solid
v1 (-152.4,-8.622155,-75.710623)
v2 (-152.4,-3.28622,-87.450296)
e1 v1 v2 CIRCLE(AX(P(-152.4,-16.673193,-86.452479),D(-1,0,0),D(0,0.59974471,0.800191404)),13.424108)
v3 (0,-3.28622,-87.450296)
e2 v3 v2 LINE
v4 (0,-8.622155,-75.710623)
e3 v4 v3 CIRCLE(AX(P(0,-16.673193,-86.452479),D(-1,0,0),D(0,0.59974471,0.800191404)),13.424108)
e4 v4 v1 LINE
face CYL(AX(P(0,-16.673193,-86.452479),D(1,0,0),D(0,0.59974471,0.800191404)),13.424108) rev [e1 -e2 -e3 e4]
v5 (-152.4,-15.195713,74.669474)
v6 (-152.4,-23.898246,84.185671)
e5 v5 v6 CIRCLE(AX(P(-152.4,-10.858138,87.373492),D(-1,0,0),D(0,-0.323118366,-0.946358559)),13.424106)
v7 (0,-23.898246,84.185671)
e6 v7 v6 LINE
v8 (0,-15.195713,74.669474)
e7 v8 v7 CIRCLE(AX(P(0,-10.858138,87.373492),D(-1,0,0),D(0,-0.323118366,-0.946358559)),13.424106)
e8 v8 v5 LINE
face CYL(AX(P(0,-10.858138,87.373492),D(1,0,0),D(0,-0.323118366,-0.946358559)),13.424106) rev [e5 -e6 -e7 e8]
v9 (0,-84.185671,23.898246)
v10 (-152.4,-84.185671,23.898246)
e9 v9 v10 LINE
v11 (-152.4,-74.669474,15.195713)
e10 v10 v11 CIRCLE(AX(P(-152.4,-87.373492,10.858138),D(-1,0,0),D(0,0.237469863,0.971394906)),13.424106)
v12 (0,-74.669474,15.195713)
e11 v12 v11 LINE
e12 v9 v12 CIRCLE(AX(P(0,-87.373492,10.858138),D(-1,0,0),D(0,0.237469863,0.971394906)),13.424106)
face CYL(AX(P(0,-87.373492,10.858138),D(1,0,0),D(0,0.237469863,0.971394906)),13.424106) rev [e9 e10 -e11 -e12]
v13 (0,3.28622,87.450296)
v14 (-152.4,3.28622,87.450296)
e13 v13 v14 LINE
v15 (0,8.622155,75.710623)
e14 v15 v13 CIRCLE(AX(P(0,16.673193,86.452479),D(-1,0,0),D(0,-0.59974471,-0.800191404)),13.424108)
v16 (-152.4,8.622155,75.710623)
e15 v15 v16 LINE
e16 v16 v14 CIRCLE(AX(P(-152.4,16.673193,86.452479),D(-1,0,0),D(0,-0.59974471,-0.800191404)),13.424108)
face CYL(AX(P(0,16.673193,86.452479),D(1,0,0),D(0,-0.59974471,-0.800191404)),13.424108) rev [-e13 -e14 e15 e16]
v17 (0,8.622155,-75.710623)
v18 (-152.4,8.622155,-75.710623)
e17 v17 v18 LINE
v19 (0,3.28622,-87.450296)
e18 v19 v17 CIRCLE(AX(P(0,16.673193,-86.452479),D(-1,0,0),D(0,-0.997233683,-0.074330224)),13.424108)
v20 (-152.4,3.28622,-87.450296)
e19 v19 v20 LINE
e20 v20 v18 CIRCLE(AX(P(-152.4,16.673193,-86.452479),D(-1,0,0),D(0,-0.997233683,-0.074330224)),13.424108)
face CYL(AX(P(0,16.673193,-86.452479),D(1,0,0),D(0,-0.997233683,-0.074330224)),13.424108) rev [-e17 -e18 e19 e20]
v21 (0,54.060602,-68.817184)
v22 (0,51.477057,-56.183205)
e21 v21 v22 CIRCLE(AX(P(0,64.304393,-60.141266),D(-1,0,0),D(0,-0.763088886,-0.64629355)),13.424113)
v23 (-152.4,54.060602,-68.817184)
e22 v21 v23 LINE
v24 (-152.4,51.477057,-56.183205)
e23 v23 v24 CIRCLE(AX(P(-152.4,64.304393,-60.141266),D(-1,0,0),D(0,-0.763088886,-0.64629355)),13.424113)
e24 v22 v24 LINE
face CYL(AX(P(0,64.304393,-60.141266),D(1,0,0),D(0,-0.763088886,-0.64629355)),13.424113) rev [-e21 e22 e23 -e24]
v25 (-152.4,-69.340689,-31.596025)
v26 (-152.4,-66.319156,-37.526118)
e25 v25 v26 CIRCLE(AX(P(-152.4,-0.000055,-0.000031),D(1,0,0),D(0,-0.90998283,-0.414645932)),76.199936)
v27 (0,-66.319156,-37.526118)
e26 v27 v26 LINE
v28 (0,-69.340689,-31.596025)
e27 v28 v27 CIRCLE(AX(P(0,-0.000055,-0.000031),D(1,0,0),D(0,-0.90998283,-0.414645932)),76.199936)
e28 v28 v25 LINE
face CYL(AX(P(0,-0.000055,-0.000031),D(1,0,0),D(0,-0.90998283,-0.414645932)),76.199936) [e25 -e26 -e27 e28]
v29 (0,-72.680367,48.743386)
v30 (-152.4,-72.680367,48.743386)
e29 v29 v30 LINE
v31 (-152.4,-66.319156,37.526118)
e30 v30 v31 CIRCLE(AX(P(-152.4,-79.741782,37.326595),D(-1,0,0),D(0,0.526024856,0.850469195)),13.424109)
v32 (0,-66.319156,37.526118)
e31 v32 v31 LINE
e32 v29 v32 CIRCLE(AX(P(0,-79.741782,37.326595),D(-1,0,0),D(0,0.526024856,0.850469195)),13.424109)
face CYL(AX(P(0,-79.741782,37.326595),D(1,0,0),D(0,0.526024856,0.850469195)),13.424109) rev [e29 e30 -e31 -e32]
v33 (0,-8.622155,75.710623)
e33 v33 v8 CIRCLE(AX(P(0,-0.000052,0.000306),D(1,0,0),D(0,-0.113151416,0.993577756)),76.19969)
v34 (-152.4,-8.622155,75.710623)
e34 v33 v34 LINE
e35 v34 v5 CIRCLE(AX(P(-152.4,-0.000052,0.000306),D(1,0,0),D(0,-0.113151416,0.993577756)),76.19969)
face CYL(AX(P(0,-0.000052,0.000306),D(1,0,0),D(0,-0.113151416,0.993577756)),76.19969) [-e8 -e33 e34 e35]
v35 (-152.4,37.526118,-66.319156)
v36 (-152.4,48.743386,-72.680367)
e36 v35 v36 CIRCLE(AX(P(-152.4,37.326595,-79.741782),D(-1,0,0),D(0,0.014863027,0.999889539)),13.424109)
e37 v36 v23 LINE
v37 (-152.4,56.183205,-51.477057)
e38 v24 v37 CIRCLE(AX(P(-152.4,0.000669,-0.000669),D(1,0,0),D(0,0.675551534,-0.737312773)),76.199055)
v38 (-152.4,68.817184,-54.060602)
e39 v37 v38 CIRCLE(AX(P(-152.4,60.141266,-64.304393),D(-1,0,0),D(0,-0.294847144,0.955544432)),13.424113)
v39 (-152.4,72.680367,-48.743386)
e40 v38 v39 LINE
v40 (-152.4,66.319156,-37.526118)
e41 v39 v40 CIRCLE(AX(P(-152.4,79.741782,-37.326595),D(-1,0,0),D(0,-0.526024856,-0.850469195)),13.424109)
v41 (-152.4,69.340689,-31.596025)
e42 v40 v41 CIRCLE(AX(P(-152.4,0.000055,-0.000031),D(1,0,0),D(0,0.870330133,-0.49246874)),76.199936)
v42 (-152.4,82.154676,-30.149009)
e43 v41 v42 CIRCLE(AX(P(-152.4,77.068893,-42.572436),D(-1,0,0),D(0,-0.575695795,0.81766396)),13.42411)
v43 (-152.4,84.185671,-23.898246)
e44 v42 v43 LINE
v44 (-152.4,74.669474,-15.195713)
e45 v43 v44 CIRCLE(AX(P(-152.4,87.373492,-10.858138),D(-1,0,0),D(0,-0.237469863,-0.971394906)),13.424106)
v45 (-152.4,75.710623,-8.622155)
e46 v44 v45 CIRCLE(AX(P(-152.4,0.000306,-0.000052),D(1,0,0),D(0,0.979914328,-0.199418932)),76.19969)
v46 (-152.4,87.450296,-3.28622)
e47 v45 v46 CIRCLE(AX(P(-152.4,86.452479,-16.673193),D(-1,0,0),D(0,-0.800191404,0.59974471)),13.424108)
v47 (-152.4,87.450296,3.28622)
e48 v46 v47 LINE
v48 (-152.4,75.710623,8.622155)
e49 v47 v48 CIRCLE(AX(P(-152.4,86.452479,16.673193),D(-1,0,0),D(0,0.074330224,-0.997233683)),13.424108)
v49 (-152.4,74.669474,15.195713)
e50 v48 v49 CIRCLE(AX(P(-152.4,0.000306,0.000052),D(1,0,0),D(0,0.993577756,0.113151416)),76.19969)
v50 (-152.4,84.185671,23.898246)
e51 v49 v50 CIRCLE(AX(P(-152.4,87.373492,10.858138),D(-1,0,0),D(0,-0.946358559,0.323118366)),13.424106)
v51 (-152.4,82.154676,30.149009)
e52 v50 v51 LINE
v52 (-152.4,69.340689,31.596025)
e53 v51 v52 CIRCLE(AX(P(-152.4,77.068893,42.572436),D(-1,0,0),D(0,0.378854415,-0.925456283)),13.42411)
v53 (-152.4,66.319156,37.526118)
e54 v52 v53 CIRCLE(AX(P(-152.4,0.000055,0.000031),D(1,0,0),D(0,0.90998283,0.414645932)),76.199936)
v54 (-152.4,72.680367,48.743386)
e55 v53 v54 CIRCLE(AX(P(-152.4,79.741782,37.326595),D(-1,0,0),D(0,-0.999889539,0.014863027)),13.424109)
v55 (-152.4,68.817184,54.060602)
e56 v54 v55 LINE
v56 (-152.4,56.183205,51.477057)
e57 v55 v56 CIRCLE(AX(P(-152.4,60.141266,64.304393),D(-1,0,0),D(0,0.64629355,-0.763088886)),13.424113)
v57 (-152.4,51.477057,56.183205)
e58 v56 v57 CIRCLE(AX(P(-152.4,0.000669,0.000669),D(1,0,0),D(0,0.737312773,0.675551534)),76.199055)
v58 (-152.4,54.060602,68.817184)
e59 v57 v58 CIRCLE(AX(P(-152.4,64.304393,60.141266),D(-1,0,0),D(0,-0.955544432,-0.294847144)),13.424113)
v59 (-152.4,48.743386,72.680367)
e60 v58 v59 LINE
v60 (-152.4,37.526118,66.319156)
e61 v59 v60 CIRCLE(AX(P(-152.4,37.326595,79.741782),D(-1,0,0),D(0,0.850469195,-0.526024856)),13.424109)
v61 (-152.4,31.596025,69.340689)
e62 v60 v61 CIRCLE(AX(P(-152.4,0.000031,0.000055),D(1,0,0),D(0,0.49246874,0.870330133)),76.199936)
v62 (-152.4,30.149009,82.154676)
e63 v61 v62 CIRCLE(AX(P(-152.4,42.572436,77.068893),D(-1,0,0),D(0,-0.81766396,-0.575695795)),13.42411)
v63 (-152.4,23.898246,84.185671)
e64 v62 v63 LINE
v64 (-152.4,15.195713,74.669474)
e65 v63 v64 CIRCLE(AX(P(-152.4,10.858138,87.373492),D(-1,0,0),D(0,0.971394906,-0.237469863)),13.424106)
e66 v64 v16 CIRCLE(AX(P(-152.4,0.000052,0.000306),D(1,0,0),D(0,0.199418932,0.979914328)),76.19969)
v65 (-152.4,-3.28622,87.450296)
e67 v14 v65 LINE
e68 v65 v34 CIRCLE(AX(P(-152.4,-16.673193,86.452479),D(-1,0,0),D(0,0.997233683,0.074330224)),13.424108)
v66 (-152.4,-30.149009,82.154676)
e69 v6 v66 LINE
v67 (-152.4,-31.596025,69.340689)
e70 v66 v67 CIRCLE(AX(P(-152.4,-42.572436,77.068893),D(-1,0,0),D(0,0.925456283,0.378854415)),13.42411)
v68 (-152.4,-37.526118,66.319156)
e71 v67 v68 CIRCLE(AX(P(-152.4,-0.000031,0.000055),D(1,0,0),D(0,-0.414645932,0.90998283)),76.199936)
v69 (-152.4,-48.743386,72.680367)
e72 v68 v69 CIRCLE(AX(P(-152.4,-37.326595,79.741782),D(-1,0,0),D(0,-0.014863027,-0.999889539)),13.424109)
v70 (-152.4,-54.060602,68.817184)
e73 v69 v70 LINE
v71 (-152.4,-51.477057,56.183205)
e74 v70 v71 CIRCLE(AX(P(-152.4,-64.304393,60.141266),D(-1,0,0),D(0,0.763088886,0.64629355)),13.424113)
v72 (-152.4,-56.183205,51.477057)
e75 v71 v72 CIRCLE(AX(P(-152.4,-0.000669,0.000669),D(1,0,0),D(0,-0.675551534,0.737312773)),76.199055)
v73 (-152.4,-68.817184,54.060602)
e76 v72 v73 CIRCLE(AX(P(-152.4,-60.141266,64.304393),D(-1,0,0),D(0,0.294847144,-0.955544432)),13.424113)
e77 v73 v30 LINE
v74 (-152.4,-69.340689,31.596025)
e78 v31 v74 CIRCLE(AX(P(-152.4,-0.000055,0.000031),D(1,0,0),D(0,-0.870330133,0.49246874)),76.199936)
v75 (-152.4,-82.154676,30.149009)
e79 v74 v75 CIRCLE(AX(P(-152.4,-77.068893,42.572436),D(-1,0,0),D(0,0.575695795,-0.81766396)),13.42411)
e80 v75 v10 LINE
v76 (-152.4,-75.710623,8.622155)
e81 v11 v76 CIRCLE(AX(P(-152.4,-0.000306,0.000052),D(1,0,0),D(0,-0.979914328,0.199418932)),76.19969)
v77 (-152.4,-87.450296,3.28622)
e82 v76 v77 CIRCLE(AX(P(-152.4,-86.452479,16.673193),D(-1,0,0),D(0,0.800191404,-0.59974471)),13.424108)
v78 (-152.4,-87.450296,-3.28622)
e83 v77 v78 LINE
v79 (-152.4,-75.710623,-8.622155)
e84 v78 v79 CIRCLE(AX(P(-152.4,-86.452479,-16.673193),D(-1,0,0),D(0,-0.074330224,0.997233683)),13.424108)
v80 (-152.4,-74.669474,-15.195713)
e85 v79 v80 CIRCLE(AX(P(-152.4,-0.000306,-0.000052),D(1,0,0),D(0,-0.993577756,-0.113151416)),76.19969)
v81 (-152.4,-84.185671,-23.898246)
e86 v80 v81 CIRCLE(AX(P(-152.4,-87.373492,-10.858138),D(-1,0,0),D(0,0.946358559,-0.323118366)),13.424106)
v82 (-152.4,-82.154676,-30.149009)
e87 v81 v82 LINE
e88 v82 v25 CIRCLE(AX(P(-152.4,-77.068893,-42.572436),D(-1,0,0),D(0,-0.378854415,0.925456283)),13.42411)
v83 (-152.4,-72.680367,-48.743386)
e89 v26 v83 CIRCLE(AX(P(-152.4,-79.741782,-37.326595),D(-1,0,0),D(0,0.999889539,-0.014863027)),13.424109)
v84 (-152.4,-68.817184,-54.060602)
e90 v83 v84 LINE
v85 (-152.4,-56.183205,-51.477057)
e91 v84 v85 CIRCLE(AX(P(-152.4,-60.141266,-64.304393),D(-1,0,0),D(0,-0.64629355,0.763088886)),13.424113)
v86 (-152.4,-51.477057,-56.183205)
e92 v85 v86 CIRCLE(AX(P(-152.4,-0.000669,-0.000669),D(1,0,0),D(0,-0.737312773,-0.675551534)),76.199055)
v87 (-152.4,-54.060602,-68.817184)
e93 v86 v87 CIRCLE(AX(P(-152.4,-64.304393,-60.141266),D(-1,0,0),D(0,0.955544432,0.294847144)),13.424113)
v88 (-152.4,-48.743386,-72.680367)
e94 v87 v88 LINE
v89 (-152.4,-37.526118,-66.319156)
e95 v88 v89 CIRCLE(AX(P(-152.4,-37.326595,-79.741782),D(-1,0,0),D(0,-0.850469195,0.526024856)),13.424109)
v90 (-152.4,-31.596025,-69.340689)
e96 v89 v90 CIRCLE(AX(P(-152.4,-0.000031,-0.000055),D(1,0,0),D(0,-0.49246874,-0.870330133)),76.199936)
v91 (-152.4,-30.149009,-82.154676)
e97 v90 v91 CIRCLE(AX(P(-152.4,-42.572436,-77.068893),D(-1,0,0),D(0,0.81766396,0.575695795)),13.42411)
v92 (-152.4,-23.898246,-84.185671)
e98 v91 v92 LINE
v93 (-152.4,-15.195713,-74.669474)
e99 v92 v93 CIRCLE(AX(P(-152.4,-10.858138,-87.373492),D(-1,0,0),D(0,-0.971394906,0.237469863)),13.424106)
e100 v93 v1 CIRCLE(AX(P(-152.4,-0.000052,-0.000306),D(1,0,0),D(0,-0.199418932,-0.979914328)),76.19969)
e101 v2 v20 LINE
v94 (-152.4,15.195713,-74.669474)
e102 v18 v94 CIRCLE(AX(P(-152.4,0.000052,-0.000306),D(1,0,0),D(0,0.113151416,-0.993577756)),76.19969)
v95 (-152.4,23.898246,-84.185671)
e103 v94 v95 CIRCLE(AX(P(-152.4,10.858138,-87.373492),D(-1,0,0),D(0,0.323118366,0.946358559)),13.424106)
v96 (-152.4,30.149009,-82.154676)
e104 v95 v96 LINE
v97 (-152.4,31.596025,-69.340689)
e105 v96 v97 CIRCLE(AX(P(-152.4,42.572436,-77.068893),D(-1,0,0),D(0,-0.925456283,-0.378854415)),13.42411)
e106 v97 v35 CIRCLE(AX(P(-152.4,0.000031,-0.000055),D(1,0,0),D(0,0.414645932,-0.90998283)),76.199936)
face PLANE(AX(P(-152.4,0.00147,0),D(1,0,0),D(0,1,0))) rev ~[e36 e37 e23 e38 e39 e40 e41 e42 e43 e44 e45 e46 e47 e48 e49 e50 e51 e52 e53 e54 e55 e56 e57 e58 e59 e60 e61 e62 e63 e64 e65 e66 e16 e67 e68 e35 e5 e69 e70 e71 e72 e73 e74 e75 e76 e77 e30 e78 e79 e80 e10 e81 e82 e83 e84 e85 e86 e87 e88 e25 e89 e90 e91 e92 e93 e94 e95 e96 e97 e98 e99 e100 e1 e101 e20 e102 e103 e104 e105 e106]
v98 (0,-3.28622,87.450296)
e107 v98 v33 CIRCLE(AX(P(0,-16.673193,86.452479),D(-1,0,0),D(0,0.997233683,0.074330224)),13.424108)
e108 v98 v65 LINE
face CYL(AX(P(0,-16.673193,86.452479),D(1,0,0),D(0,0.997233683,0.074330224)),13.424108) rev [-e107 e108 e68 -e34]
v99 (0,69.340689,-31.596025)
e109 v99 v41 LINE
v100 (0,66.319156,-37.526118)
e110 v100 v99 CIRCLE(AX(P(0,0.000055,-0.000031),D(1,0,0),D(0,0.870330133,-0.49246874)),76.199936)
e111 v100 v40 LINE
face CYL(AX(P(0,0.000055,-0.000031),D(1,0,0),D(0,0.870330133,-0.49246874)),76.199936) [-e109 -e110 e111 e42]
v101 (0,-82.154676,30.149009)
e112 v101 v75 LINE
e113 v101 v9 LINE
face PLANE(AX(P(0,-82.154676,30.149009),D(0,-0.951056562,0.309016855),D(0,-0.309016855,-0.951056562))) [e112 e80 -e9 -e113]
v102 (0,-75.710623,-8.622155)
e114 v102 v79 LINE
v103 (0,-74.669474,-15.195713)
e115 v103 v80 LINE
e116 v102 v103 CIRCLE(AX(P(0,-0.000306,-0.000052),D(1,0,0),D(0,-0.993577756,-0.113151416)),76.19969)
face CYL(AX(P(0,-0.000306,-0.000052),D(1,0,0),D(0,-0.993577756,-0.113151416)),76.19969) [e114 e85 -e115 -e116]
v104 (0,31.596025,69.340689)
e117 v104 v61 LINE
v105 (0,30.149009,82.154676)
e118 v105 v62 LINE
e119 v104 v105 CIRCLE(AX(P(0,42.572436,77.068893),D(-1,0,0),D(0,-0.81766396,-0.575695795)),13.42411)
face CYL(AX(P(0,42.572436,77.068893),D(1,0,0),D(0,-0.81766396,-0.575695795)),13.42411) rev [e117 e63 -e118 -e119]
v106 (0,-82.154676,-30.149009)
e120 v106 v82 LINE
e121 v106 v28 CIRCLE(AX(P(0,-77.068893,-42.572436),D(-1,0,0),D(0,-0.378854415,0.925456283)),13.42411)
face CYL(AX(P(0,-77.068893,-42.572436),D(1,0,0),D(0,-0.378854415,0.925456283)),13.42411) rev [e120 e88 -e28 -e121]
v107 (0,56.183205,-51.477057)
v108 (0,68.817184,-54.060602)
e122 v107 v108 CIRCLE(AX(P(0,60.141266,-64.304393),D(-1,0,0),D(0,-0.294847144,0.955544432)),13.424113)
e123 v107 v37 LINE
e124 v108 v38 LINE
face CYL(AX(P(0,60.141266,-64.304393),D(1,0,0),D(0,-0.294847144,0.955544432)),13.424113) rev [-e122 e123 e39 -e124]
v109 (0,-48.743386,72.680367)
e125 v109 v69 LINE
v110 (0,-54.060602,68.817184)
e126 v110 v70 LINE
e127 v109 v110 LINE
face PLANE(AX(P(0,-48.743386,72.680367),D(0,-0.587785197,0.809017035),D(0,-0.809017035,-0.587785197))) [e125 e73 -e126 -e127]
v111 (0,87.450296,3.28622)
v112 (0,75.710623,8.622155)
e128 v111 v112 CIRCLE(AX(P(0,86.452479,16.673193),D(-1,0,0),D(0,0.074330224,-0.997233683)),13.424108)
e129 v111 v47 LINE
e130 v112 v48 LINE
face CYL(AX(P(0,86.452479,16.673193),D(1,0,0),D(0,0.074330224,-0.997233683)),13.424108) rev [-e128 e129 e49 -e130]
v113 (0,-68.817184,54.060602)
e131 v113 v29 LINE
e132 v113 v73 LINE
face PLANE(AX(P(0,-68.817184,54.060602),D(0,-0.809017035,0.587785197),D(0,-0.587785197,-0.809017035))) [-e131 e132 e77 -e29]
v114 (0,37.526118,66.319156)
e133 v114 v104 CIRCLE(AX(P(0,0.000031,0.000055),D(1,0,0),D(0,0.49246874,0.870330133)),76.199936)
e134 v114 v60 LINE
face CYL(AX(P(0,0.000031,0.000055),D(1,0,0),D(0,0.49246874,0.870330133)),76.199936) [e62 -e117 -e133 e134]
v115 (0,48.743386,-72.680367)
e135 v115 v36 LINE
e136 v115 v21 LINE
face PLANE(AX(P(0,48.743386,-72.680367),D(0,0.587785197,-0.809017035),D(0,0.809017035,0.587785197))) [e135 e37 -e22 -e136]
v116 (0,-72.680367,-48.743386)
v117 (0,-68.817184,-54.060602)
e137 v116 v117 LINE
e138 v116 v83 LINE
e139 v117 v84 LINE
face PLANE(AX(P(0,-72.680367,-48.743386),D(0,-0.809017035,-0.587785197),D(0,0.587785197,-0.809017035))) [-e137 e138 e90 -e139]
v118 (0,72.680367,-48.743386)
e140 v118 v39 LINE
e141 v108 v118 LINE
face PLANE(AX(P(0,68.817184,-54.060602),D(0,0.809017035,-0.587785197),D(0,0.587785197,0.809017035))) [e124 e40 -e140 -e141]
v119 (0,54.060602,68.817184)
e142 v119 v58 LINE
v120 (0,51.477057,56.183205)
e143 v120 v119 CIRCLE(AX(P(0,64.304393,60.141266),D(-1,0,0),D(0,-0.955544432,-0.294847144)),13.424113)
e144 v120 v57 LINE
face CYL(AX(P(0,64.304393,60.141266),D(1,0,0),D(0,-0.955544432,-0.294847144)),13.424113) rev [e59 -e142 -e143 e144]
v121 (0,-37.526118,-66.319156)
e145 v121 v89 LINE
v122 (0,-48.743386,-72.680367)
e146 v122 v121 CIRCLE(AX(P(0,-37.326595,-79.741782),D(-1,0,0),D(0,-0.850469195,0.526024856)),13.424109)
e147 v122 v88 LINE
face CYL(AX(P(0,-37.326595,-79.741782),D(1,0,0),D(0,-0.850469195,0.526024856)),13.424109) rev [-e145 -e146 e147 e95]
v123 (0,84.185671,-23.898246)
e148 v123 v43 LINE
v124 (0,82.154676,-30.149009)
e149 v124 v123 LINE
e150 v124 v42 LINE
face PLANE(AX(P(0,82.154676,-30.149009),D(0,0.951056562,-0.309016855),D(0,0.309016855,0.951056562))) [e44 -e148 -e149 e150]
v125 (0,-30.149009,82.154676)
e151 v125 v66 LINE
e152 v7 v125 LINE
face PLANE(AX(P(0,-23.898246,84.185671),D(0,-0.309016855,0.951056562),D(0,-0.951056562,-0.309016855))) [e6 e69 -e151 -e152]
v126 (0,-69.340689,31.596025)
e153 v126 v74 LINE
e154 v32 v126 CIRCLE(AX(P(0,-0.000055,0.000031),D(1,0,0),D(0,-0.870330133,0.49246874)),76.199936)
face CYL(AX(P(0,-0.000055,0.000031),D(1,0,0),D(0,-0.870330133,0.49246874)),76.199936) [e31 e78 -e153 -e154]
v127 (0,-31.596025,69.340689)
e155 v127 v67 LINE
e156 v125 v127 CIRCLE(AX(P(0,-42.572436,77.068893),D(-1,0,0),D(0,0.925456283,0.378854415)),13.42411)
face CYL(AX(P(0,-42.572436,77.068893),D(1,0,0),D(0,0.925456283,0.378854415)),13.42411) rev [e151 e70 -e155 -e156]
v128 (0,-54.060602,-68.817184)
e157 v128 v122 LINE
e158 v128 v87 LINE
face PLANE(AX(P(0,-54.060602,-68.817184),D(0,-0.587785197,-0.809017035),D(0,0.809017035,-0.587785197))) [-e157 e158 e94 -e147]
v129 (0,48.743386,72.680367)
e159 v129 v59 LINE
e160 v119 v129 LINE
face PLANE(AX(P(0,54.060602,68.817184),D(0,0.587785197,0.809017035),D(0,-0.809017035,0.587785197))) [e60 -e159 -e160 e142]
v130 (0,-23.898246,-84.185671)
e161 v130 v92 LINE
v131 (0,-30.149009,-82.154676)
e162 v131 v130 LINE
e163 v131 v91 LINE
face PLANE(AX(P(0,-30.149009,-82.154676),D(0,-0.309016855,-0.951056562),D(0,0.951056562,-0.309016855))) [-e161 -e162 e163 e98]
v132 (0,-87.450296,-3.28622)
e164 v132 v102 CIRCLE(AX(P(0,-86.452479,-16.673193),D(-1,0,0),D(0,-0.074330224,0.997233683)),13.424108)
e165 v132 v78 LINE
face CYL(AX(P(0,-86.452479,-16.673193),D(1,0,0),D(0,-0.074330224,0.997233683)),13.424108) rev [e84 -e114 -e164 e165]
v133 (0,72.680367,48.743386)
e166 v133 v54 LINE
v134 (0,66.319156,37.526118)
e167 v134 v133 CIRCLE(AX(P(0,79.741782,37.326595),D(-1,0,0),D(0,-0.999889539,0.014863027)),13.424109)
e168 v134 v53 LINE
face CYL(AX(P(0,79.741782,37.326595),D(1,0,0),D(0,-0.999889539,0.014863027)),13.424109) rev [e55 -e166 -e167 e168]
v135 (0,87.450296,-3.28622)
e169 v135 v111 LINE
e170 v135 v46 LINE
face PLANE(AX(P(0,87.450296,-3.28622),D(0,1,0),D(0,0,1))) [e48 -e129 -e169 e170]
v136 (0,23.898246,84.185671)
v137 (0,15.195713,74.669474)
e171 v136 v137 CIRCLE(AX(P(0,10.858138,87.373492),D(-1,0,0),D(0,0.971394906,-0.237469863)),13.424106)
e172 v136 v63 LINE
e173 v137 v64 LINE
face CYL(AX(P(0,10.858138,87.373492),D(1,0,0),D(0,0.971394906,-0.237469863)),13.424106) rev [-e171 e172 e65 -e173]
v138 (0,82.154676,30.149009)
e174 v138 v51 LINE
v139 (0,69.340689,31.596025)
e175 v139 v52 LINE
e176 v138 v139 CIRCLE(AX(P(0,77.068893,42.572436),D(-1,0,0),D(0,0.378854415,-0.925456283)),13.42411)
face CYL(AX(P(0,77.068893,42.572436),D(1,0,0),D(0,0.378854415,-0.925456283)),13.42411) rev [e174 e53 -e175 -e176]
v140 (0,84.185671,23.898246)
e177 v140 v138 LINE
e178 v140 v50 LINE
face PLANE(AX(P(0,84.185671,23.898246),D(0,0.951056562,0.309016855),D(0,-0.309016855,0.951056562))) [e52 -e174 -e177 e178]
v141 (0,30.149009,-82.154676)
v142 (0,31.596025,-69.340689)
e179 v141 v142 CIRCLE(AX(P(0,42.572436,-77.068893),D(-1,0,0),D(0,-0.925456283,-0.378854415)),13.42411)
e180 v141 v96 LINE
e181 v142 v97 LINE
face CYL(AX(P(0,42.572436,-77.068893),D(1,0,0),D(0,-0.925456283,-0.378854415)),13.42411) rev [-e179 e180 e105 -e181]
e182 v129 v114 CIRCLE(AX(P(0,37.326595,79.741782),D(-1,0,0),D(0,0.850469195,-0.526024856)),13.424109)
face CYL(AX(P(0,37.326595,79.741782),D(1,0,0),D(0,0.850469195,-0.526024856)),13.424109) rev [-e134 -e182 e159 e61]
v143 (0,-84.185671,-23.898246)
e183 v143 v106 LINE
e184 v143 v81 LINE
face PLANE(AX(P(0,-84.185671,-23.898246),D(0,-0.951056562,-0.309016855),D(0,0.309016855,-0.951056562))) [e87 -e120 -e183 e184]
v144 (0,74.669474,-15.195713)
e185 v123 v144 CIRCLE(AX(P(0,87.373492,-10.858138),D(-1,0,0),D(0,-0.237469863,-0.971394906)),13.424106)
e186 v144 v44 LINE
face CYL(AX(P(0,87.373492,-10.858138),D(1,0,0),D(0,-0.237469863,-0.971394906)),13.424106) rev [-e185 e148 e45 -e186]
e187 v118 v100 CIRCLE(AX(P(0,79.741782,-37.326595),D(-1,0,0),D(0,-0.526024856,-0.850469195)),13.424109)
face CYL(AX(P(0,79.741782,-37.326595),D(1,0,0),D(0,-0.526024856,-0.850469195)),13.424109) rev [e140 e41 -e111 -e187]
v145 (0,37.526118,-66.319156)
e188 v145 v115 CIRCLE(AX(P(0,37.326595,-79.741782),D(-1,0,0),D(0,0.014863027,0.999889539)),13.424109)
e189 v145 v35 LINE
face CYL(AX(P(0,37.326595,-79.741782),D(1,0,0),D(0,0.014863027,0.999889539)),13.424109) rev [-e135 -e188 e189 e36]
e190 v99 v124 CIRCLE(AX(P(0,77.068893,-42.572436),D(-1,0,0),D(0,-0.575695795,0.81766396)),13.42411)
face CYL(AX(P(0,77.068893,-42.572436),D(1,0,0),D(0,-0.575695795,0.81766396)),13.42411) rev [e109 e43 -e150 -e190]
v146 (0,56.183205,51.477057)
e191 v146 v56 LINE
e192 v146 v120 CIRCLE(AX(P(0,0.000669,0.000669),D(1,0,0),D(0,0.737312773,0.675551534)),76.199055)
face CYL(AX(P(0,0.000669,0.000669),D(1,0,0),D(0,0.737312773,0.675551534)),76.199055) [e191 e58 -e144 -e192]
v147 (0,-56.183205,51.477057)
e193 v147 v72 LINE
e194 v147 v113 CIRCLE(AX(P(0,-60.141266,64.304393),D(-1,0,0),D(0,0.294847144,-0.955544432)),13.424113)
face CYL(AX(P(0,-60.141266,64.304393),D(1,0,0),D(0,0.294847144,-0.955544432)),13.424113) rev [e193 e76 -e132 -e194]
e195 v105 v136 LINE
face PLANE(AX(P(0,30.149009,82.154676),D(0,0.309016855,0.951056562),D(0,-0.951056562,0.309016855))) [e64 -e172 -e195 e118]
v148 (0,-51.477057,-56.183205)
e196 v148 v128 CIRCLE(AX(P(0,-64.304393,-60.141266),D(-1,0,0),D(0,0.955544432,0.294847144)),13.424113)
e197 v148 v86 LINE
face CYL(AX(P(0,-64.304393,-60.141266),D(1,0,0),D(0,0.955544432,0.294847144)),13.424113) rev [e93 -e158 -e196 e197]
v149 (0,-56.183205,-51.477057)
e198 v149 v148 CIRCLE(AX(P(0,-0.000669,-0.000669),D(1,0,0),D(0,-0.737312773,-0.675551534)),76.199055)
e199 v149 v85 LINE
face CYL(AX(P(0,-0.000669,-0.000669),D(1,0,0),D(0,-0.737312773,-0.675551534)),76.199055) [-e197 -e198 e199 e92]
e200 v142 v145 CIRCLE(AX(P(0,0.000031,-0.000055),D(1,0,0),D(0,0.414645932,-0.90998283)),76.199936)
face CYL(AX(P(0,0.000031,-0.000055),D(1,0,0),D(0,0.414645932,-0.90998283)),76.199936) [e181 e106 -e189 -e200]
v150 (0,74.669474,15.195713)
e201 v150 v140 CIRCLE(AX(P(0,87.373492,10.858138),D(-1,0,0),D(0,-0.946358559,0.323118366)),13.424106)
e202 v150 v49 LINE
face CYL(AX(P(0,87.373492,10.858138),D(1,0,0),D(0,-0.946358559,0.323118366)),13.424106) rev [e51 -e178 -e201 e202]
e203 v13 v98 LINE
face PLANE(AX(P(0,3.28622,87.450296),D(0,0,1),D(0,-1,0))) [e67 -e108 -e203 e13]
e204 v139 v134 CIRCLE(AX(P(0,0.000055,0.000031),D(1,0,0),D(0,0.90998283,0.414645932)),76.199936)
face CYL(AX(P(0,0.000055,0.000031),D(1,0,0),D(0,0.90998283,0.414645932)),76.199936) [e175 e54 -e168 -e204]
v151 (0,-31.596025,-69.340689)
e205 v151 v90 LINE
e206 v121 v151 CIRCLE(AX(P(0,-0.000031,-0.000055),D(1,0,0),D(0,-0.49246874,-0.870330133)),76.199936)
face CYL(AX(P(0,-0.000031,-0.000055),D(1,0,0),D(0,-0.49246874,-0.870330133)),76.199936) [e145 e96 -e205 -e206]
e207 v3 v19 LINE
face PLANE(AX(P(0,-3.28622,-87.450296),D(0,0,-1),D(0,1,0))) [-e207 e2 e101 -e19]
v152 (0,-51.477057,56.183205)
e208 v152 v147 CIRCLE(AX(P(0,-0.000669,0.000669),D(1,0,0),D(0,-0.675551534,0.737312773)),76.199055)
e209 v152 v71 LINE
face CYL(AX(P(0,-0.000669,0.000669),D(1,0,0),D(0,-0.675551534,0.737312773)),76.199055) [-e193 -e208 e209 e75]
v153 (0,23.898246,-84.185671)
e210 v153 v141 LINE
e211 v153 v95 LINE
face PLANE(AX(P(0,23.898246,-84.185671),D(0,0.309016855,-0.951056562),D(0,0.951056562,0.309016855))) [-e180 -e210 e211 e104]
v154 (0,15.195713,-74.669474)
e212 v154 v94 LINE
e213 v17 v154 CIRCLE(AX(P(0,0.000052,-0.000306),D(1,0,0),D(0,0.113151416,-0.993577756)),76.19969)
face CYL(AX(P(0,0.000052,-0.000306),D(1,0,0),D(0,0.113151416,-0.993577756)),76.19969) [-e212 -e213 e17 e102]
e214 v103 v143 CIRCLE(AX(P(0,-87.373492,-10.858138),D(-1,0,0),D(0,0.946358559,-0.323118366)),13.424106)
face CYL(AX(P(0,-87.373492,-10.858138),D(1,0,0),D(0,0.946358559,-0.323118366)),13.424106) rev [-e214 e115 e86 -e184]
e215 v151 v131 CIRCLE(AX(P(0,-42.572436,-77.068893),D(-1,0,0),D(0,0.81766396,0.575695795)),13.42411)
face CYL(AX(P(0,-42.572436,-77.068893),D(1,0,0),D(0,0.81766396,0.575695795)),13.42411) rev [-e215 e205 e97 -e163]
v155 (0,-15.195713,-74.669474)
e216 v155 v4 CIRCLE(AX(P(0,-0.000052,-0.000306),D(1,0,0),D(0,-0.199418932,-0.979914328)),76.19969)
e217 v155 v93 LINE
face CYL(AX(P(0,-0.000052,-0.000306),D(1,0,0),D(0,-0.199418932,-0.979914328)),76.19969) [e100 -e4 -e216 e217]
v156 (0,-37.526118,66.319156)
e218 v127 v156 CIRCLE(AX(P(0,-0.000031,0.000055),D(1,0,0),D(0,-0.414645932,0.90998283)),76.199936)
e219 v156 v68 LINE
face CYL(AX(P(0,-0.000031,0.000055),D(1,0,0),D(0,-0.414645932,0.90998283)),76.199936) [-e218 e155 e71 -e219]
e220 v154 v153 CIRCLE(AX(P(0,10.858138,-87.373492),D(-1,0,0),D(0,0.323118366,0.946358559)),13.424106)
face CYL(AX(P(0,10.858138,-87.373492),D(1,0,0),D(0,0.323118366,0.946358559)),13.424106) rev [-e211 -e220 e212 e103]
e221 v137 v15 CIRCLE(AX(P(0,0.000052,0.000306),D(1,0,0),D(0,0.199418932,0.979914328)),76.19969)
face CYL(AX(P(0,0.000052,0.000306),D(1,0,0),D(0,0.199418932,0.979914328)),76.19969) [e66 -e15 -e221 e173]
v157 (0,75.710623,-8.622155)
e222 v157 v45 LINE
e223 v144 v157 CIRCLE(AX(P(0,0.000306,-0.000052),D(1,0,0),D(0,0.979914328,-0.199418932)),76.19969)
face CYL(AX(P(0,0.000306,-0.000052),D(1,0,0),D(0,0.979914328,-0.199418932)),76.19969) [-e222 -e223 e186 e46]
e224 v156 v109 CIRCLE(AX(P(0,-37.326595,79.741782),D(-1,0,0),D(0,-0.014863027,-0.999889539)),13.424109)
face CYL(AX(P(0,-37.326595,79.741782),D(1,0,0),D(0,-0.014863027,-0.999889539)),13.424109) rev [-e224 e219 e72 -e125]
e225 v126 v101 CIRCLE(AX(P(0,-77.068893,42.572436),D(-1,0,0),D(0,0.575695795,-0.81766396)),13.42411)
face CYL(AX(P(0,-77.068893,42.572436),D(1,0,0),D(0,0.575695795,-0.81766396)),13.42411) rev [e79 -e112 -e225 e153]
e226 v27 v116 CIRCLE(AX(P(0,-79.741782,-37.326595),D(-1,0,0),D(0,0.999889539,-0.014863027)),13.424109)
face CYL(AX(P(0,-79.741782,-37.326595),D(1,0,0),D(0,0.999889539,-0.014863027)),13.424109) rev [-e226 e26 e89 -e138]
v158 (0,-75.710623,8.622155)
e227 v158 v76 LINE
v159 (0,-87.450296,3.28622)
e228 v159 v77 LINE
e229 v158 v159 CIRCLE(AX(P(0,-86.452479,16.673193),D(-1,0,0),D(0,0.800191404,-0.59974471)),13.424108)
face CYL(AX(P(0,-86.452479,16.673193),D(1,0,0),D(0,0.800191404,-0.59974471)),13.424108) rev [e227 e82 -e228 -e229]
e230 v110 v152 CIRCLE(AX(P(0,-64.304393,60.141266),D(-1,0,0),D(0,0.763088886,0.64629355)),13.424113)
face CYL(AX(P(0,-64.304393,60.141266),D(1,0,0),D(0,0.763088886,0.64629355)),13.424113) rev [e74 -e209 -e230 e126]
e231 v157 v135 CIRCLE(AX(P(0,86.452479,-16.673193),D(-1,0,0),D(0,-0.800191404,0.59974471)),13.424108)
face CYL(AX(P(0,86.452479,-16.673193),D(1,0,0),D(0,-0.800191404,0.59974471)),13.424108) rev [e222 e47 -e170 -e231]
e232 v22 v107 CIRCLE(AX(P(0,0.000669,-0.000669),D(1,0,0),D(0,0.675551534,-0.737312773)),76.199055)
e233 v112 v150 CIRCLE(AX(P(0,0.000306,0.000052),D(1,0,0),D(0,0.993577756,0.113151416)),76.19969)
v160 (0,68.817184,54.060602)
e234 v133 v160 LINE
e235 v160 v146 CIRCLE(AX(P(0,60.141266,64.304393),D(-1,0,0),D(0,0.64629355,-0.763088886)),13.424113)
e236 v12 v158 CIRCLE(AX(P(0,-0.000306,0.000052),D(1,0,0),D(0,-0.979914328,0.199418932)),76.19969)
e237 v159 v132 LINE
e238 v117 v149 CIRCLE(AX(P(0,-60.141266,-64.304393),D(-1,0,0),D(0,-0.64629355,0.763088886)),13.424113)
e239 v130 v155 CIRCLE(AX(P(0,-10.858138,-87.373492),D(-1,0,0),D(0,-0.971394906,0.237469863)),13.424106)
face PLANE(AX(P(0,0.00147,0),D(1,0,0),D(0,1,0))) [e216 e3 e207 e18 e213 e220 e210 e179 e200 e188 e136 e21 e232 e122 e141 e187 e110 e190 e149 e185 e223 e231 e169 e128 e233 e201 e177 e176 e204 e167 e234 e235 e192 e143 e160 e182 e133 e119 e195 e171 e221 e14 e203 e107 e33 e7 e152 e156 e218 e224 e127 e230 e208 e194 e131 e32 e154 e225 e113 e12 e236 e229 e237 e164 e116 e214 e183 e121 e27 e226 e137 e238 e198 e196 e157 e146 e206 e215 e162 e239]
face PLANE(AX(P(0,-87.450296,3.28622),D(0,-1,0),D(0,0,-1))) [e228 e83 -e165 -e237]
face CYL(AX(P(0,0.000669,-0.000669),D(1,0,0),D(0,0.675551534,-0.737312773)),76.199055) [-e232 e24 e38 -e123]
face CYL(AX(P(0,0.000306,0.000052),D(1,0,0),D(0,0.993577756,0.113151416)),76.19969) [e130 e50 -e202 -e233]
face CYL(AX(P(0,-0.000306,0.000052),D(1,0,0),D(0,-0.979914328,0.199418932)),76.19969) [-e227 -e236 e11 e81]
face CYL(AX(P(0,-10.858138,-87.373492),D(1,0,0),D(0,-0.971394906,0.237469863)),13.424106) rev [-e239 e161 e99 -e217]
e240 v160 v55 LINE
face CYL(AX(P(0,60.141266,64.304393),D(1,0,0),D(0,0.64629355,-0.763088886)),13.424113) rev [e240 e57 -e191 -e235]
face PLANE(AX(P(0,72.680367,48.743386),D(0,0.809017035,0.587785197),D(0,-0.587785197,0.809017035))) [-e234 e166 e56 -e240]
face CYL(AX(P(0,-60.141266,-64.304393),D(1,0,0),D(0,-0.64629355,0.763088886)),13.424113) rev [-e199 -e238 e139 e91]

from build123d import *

# Parameters (mm, degrees)
F0_DEPTH = 152.4


with BuildPart() as f0:
    # F1 (on Right) → F0 (new body)
    with BuildSketch(Plane.YZ):
        with BuildLine():
            ThreePointArc((75.710623, -8.622155), (76.077557, -4.318016), (76.2, 0))
            ThreePointArc((76.2, 0), (76.077557, 4.318016), (75.710623, 8.622155))
            ThreePointArc((75.710623, 8.622155), (75.261852, 11.920306), (74.669474, 15.195713))
            ThreePointArc((74.669474, 15.195713), (72.470507, 23.547095), (69.340689, 31.596025))
            ThreePointArc((69.340689, 31.596025), (67.894697, 34.594076), (66.319156, 37.526118))
            ThreePointArc((66.319156, 37.526118), (61.647095, 44.789236), (56.183205, 51.477057))
            ThreePointArc((56.183205, 51.477057), (53.881537, 53.881537), (51.477057, 56.183205))
            ThreePointArc((51.477057, 56.183205), (44.789236, 61.647095), (37.526118, 66.319156))
            ThreePointArc((37.526118, 66.319156), (34.594076, 67.894697), (31.596025, 69.340689))
            ThreePointArc((31.596025, 69.340689), (23.547095, 72.470507), (15.195713, 74.669474))
            ThreePointArc((15.195713, 74.669474), (11.920306, 75.261852), (8.622155, 75.710623))
            ThreePointArc((8.622155, 75.710623), (0, 76.2), (-8.622155, 75.710623))
            ThreePointArc((-8.622155, 75.710623), (-11.920306, 75.261852), (-15.195713, 74.669474))
            ThreePointArc((-15.195713, 74.669474), (-23.547095, 72.470507), (-31.596025, 69.340689))
            ThreePointArc((-31.596025, 69.340689), (-34.594076, 67.894697), (-37.526118, 66.319156))
            ThreePointArc((-37.526118, 66.319156), (-44.789236, 61.647095), (-51.477057, 56.183205))
            ThreePointArc((-51.477057, 56.183205), (-53.881537, 53.881537), (-56.183205, 51.477057))
            ThreePointArc((-56.183205, 51.477057), (-61.647095, 44.789236), (-66.319156, 37.526118))
            ThreePointArc((-66.319156, 37.526118), (-67.894697, 34.594076), (-69.340689, 31.596025))
            ThreePointArc((-69.340689, 31.596025), (-72.470507, 23.547095), (-74.669474, 15.195713))
            ThreePointArc((-74.669474, 15.195713), (-75.261852, 11.920306), (-75.710623, 8.622155))
            ThreePointArc((-75.710623, 8.622155), (-76.2, 0), (-75.710623, -8.622155))
            ThreePointArc((-75.710623, -8.622155), (-75.261852, -11.920306), (-74.669474, -15.195713))
            ThreePointArc((-74.669474, -15.195713), (-72.470507, -23.547095), (-69.340689, -31.596025))
            ThreePointArc((-69.340689, -31.596025), (-67.894697, -34.594076), (-66.319156, -37.526118))
            ThreePointArc((-66.319156, -37.526118), (-61.647095, -44.789236), (-56.183205, -51.477057))
            ThreePointArc((-56.183205, -51.477057), (-53.881537, -53.881537), (-51.477057, -56.183205))
            ThreePointArc((-51.477057, -56.183205), (-44.789236, -61.647095), (-37.526118, -66.319156))
            ThreePointArc((-37.526118, -66.319156), (-34.594076, -67.894697), (-31.596025, -69.340689))
            ThreePointArc((-31.596025, -69.340689), (-23.547095, -72.470507), (-15.195713, -74.669474))
            ThreePointArc((-15.195713, -74.669474), (-11.920306, -75.261852), (-8.622155, -75.710623))
            ThreePointArc((-8.622155, -75.710623), (0, -76.2), (8.622155, -75.710623))
            ThreePointArc((8.622155, -75.710623), (11.920306, -75.261852), (15.195713, -74.669474))
            ThreePointArc((15.195713, -74.669474), (23.547095, -72.470507), (31.596025, -69.340689))
            ThreePointArc((31.596025, -69.340689), (34.594076, -67.894697), (37.526118, -66.319156))
            ThreePointArc((37.526118, -66.319156), (44.789236, -61.647095), (51.477057, -56.183205))
            ThreePointArc((51.477057, -56.183205), (53.881537, -53.881537), (56.183205, -51.477057))
            ThreePointArc((56.183205, -51.477057), (61.647095, -44.789236), (66.319156, -37.526118))
            ThreePointArc((66.319156, -37.526118), (67.894697, -34.594076), (69.340689, -31.596025))
            ThreePointArc((69.340689, -31.596025), (72.470507, -23.547095), (74.669474, -15.195713))
            ThreePointArc((74.669474, -15.195713), (75.261852, -11.920306), (75.710623, -8.622155))
        make_face()
        with BuildLine():
            ThreePointArc((-31.596025, 69.340689), (-23.547095, 72.470507), (-15.195713, 74.669474))
            ThreePointArc((-15.195713, 74.669474), (-20.764473, 78.314179), (-23.898246, 84.185671))
            Line((-23.898246, 84.185671), (-30.149009, 82.154676))
            ThreePointArc((-30.149009, 82.154676), (-29.233108, 75.562553), (-31.596025, 69.340689))
        make_face()
        with BuildLine():
            ThreePointArc((-51.477057, 56.183205), (-44.789236, 61.647095), (-37.526118, 66.319156))
            ThreePointArc((-37.526118, 66.319156), (-43.948599, 68.064635), (-48.743386, 72.680367))
            Line((-48.743386, 72.680367), (-54.060602, 68.817184))
            ThreePointArc((-54.060602, 68.817184), (-51.152451, 62.830731), (-51.477057, 56.183205))
        make_face()
        with BuildLine():
            ThreePointArc((-66.319156, 37.526118), (-61.647095, 44.789236), (-56.183205, 51.477057))
            ThreePointArc((-56.183205, 51.477057), (-62.830731, 51.152451), (-68.817184, 54.060602))
            Line((-68.817184, 54.060602), (-72.680367, 48.743386))
            ThreePointArc((-72.680367, 48.743386), (-68.064635, 43.948599), (-66.319156, 37.526118))
        make_face()
        with BuildLine():
            ThreePointArc((-74.669474, 15.195713), (-72.470507, 23.547095), (-69.340689, 31.596025))
            ThreePointArc((-69.340689, 31.596025), (-75.562553, 29.233108), (-82.154676, 30.149009))
            Line((-82.154676, 30.149009), (-84.185671, 23.898246))
            ThreePointArc((-84.185671, 23.898246), (-78.314179, 20.764473), (-74.669474, 15.195713))
        make_face()
        with BuildLine():
            ThreePointArc((-75.710623, -8.622155), (-76.2, 0), (-75.710623, 8.622155))
            ThreePointArc((-75.710623, 8.622155), (-80.897785, 4.452225), (-87.450296, 3.28622))
            Line((-87.450296, 3.28622), (-87.450296, -3.28622))
            ThreePointArc((-87.450296, -3.28622), (-80.897785, -4.452225), (-75.710623, -8.622155))
        make_face()
        with BuildLine():
            ThreePointArc((-82.154676, -30.149009), (-75.562553, -29.233108), (-69.340689, -31.596025))
            ThreePointArc((-69.340689, -31.596025), (-72.470507, -23.547095), (-74.669474, -15.195713))
            ThreePointArc((-74.669474, -15.195713), (-78.314179, -20.764473), (-84.185671, -23.898246))
            Line((-84.185671, -23.898246), (-82.154676, -30.149009))
        make_face()
        with BuildLine():
            ThreePointArc((-68.817184, -54.060602), (-62.830731, -51.152451), (-56.183205, -51.477057))
            ThreePointArc((-56.183205, -51.477057), (-61.647095, -44.789236), (-66.319156, -37.526118))
            ThreePointArc((-66.319156, -37.526118), (-68.064635, -43.948599), (-72.680367, -48.743386))
            Line((-72.680367, -48.743386), (-68.817184, -54.060602))
        make_face()
        with BuildLine():
            ThreePointArc((-48.743386, -72.680367), (-43.948599, -68.064635), (-37.526118, -66.319156))
            ThreePointArc((-37.526118, -66.319156), (-44.789236, -61.647095), (-51.477057, -56.183205))
            ThreePointArc((-51.477057, -56.183205), (-51.152451, -62.830731), (-54.060602, -68.817184))
            Line((-54.060602, -68.817184), (-48.743386, -72.680367))
        make_face()
        with BuildLine():
            ThreePointArc((-23.898246, -84.185671), (-20.764473, -78.314179), (-15.195713, -74.669474))
            ThreePointArc((-15.195713, -74.669474), (-23.547095, -72.470507), (-31.596025, -69.340689))
            ThreePointArc((-31.596025, -69.340689), (-29.233108, -75.562553), (-30.149009, -82.154676))
            Line((-30.149009, -82.154676), (-23.898246, -84.185671))
        make_face()
        with BuildLine():
            ThreePointArc((3.28622, -87.450296), (4.452225, -80.897785), (8.622155, -75.710623))
            ThreePointArc((8.622155, -75.710623), (0, -76.2), (-8.622155, -75.710623))
            ThreePointArc((-8.622155, -75.710623), (-4.452225, -80.897785), (-3.28622, -87.450296))
            Line((-3.28622, -87.450296), (3.28622, -87.450296))
        make_face()
        with BuildLine():
            ThreePointArc((30.149009, -82.154676), (29.233108, -75.562553), (31.596025, -69.340689))
            ThreePointArc((31.596025, -69.340689), (23.547095, -72.470507), (15.195713, -74.669474))
            ThreePointArc((15.195713, -74.669474), (20.764473, -78.314179), (23.898246, -84.185671))
            Line((23.898246, -84.185671), (30.149009, -82.154676))
        make_face()
        with BuildLine():
            ThreePointArc((54.060602, -68.817184), (51.152451, -62.830731), (51.477057, -56.183205))
            ThreePointArc((51.477057, -56.183205), (44.789236, -61.647095), (37.526118, -66.319156))
            ThreePointArc((37.526118, -66.319156), (43.948599, -68.064635), (48.743386, -72.680367))
            Line((48.743386, -72.680367), (54.060602, -68.817184))
        make_face()
        with BuildLine():
            ThreePointArc((72.680367, -48.743386), (68.064635, -43.948599), (66.319156, -37.526118))
            ThreePointArc((66.319156, -37.526118), (61.647095, -44.789236), (56.183205, -51.477057))
            ThreePointArc((56.183205, -51.477057), (62.830731, -51.152451), (68.817184, -54.060602))
            Line((68.817184, -54.060602), (72.680367, -48.743386))
        make_face()
        with BuildLine():
            ThreePointArc((84.185671, -23.898246), (78.314179, -20.764473), (74.669474, -15.195713))
            ThreePointArc((74.669474, -15.195713), (72.470507, -23.547095), (69.340689, -31.596025))
            ThreePointArc((69.340689, -31.596025), (75.562553, -29.233108), (82.154676, -30.149009))
            Line((82.154676, -30.149009), (84.185671, -23.898246))
        make_face()
        with BuildLine():
            ThreePointArc((75.710623, 8.622155), (76.077557, 4.318016), (76.2, 0))
            ThreePointArc((76.2, 0), (76.077557, -4.318016), (75.710623, -8.622155))
            ThreePointArc((75.710623, -8.622155), (80.897785, -4.452225), (87.450296, -3.28622))
            Line((87.450296, -3.28622), (87.450296, 3.28622))
            ThreePointArc((87.450296, 3.28622), (80.897785, 4.452225), (75.710623, 8.622155))
        make_face()
        with BuildLine():
            ThreePointArc((69.340689, 31.596025), (72.470507, 23.547095), (74.669474, 15.195713))
            ThreePointArc((74.669474, 15.195713), (78.314179, 20.764473), (84.185671, 23.898246))
            Line((84.185671, 23.898246), (82.154676, 30.149009))
            ThreePointArc((82.154676, 30.149009), (75.562553, 29.233108), (69.340689, 31.596025))
        make_face()
        with BuildLine():
            ThreePointArc((56.183205, 51.477057), (61.647095, 44.789236), (66.319156, 37.526118))
            ThreePointArc((66.319156, 37.526118), (68.064635, 43.948599), (72.680367, 48.743386))
            Line((72.680367, 48.743386), (68.817184, 54.060602))
            ThreePointArc((68.817184, 54.060602), (62.830731, 51.152451), (56.183205, 51.477057))
        make_face()
        with BuildLine():
            ThreePointArc((37.526118, 66.319156), (44.789236, 61.647095), (51.477057, 56.183205))
            ThreePointArc((51.477057, 56.183205), (51.152451, 62.830731), (54.060602, 68.817184))
            Line((54.060602, 68.817184), (48.743386, 72.680367))
            ThreePointArc((48.743386, 72.680367), (43.948599, 68.064635), (37.526118, 66.319156))
        make_face()
        with BuildLine():
            ThreePointArc((15.195713, 74.669474), (23.547095, 72.470507), (31.596025, 69.340689))
            ThreePointArc((31.596025, 69.340689), (29.233108, 75.562553), (30.149009, 82.154676))
            Line((30.149009, 82.154676), (23.898246, 84.185671))
            ThreePointArc((23.898246, 84.185671), (20.764473, 78.314179), (15.195713, 74.669474))
        make_face()
        with BuildLine():
            ThreePointArc((-8.622155, 75.710623), (0, 76.2), (8.622155, 75.710623))
            ThreePointArc((8.622155, 75.710623), (4.452225, 80.897785), (3.28622, 87.450296))
            Line((3.28622, 87.450296), (-3.28622, 87.450296))
            ThreePointArc((-3.28622, 87.450296), (-4.452225, 80.897785), (-8.622155, 75.710623))
        make_face()
    extrude(amount=-F0_DEPTH)


solid = f0.part
